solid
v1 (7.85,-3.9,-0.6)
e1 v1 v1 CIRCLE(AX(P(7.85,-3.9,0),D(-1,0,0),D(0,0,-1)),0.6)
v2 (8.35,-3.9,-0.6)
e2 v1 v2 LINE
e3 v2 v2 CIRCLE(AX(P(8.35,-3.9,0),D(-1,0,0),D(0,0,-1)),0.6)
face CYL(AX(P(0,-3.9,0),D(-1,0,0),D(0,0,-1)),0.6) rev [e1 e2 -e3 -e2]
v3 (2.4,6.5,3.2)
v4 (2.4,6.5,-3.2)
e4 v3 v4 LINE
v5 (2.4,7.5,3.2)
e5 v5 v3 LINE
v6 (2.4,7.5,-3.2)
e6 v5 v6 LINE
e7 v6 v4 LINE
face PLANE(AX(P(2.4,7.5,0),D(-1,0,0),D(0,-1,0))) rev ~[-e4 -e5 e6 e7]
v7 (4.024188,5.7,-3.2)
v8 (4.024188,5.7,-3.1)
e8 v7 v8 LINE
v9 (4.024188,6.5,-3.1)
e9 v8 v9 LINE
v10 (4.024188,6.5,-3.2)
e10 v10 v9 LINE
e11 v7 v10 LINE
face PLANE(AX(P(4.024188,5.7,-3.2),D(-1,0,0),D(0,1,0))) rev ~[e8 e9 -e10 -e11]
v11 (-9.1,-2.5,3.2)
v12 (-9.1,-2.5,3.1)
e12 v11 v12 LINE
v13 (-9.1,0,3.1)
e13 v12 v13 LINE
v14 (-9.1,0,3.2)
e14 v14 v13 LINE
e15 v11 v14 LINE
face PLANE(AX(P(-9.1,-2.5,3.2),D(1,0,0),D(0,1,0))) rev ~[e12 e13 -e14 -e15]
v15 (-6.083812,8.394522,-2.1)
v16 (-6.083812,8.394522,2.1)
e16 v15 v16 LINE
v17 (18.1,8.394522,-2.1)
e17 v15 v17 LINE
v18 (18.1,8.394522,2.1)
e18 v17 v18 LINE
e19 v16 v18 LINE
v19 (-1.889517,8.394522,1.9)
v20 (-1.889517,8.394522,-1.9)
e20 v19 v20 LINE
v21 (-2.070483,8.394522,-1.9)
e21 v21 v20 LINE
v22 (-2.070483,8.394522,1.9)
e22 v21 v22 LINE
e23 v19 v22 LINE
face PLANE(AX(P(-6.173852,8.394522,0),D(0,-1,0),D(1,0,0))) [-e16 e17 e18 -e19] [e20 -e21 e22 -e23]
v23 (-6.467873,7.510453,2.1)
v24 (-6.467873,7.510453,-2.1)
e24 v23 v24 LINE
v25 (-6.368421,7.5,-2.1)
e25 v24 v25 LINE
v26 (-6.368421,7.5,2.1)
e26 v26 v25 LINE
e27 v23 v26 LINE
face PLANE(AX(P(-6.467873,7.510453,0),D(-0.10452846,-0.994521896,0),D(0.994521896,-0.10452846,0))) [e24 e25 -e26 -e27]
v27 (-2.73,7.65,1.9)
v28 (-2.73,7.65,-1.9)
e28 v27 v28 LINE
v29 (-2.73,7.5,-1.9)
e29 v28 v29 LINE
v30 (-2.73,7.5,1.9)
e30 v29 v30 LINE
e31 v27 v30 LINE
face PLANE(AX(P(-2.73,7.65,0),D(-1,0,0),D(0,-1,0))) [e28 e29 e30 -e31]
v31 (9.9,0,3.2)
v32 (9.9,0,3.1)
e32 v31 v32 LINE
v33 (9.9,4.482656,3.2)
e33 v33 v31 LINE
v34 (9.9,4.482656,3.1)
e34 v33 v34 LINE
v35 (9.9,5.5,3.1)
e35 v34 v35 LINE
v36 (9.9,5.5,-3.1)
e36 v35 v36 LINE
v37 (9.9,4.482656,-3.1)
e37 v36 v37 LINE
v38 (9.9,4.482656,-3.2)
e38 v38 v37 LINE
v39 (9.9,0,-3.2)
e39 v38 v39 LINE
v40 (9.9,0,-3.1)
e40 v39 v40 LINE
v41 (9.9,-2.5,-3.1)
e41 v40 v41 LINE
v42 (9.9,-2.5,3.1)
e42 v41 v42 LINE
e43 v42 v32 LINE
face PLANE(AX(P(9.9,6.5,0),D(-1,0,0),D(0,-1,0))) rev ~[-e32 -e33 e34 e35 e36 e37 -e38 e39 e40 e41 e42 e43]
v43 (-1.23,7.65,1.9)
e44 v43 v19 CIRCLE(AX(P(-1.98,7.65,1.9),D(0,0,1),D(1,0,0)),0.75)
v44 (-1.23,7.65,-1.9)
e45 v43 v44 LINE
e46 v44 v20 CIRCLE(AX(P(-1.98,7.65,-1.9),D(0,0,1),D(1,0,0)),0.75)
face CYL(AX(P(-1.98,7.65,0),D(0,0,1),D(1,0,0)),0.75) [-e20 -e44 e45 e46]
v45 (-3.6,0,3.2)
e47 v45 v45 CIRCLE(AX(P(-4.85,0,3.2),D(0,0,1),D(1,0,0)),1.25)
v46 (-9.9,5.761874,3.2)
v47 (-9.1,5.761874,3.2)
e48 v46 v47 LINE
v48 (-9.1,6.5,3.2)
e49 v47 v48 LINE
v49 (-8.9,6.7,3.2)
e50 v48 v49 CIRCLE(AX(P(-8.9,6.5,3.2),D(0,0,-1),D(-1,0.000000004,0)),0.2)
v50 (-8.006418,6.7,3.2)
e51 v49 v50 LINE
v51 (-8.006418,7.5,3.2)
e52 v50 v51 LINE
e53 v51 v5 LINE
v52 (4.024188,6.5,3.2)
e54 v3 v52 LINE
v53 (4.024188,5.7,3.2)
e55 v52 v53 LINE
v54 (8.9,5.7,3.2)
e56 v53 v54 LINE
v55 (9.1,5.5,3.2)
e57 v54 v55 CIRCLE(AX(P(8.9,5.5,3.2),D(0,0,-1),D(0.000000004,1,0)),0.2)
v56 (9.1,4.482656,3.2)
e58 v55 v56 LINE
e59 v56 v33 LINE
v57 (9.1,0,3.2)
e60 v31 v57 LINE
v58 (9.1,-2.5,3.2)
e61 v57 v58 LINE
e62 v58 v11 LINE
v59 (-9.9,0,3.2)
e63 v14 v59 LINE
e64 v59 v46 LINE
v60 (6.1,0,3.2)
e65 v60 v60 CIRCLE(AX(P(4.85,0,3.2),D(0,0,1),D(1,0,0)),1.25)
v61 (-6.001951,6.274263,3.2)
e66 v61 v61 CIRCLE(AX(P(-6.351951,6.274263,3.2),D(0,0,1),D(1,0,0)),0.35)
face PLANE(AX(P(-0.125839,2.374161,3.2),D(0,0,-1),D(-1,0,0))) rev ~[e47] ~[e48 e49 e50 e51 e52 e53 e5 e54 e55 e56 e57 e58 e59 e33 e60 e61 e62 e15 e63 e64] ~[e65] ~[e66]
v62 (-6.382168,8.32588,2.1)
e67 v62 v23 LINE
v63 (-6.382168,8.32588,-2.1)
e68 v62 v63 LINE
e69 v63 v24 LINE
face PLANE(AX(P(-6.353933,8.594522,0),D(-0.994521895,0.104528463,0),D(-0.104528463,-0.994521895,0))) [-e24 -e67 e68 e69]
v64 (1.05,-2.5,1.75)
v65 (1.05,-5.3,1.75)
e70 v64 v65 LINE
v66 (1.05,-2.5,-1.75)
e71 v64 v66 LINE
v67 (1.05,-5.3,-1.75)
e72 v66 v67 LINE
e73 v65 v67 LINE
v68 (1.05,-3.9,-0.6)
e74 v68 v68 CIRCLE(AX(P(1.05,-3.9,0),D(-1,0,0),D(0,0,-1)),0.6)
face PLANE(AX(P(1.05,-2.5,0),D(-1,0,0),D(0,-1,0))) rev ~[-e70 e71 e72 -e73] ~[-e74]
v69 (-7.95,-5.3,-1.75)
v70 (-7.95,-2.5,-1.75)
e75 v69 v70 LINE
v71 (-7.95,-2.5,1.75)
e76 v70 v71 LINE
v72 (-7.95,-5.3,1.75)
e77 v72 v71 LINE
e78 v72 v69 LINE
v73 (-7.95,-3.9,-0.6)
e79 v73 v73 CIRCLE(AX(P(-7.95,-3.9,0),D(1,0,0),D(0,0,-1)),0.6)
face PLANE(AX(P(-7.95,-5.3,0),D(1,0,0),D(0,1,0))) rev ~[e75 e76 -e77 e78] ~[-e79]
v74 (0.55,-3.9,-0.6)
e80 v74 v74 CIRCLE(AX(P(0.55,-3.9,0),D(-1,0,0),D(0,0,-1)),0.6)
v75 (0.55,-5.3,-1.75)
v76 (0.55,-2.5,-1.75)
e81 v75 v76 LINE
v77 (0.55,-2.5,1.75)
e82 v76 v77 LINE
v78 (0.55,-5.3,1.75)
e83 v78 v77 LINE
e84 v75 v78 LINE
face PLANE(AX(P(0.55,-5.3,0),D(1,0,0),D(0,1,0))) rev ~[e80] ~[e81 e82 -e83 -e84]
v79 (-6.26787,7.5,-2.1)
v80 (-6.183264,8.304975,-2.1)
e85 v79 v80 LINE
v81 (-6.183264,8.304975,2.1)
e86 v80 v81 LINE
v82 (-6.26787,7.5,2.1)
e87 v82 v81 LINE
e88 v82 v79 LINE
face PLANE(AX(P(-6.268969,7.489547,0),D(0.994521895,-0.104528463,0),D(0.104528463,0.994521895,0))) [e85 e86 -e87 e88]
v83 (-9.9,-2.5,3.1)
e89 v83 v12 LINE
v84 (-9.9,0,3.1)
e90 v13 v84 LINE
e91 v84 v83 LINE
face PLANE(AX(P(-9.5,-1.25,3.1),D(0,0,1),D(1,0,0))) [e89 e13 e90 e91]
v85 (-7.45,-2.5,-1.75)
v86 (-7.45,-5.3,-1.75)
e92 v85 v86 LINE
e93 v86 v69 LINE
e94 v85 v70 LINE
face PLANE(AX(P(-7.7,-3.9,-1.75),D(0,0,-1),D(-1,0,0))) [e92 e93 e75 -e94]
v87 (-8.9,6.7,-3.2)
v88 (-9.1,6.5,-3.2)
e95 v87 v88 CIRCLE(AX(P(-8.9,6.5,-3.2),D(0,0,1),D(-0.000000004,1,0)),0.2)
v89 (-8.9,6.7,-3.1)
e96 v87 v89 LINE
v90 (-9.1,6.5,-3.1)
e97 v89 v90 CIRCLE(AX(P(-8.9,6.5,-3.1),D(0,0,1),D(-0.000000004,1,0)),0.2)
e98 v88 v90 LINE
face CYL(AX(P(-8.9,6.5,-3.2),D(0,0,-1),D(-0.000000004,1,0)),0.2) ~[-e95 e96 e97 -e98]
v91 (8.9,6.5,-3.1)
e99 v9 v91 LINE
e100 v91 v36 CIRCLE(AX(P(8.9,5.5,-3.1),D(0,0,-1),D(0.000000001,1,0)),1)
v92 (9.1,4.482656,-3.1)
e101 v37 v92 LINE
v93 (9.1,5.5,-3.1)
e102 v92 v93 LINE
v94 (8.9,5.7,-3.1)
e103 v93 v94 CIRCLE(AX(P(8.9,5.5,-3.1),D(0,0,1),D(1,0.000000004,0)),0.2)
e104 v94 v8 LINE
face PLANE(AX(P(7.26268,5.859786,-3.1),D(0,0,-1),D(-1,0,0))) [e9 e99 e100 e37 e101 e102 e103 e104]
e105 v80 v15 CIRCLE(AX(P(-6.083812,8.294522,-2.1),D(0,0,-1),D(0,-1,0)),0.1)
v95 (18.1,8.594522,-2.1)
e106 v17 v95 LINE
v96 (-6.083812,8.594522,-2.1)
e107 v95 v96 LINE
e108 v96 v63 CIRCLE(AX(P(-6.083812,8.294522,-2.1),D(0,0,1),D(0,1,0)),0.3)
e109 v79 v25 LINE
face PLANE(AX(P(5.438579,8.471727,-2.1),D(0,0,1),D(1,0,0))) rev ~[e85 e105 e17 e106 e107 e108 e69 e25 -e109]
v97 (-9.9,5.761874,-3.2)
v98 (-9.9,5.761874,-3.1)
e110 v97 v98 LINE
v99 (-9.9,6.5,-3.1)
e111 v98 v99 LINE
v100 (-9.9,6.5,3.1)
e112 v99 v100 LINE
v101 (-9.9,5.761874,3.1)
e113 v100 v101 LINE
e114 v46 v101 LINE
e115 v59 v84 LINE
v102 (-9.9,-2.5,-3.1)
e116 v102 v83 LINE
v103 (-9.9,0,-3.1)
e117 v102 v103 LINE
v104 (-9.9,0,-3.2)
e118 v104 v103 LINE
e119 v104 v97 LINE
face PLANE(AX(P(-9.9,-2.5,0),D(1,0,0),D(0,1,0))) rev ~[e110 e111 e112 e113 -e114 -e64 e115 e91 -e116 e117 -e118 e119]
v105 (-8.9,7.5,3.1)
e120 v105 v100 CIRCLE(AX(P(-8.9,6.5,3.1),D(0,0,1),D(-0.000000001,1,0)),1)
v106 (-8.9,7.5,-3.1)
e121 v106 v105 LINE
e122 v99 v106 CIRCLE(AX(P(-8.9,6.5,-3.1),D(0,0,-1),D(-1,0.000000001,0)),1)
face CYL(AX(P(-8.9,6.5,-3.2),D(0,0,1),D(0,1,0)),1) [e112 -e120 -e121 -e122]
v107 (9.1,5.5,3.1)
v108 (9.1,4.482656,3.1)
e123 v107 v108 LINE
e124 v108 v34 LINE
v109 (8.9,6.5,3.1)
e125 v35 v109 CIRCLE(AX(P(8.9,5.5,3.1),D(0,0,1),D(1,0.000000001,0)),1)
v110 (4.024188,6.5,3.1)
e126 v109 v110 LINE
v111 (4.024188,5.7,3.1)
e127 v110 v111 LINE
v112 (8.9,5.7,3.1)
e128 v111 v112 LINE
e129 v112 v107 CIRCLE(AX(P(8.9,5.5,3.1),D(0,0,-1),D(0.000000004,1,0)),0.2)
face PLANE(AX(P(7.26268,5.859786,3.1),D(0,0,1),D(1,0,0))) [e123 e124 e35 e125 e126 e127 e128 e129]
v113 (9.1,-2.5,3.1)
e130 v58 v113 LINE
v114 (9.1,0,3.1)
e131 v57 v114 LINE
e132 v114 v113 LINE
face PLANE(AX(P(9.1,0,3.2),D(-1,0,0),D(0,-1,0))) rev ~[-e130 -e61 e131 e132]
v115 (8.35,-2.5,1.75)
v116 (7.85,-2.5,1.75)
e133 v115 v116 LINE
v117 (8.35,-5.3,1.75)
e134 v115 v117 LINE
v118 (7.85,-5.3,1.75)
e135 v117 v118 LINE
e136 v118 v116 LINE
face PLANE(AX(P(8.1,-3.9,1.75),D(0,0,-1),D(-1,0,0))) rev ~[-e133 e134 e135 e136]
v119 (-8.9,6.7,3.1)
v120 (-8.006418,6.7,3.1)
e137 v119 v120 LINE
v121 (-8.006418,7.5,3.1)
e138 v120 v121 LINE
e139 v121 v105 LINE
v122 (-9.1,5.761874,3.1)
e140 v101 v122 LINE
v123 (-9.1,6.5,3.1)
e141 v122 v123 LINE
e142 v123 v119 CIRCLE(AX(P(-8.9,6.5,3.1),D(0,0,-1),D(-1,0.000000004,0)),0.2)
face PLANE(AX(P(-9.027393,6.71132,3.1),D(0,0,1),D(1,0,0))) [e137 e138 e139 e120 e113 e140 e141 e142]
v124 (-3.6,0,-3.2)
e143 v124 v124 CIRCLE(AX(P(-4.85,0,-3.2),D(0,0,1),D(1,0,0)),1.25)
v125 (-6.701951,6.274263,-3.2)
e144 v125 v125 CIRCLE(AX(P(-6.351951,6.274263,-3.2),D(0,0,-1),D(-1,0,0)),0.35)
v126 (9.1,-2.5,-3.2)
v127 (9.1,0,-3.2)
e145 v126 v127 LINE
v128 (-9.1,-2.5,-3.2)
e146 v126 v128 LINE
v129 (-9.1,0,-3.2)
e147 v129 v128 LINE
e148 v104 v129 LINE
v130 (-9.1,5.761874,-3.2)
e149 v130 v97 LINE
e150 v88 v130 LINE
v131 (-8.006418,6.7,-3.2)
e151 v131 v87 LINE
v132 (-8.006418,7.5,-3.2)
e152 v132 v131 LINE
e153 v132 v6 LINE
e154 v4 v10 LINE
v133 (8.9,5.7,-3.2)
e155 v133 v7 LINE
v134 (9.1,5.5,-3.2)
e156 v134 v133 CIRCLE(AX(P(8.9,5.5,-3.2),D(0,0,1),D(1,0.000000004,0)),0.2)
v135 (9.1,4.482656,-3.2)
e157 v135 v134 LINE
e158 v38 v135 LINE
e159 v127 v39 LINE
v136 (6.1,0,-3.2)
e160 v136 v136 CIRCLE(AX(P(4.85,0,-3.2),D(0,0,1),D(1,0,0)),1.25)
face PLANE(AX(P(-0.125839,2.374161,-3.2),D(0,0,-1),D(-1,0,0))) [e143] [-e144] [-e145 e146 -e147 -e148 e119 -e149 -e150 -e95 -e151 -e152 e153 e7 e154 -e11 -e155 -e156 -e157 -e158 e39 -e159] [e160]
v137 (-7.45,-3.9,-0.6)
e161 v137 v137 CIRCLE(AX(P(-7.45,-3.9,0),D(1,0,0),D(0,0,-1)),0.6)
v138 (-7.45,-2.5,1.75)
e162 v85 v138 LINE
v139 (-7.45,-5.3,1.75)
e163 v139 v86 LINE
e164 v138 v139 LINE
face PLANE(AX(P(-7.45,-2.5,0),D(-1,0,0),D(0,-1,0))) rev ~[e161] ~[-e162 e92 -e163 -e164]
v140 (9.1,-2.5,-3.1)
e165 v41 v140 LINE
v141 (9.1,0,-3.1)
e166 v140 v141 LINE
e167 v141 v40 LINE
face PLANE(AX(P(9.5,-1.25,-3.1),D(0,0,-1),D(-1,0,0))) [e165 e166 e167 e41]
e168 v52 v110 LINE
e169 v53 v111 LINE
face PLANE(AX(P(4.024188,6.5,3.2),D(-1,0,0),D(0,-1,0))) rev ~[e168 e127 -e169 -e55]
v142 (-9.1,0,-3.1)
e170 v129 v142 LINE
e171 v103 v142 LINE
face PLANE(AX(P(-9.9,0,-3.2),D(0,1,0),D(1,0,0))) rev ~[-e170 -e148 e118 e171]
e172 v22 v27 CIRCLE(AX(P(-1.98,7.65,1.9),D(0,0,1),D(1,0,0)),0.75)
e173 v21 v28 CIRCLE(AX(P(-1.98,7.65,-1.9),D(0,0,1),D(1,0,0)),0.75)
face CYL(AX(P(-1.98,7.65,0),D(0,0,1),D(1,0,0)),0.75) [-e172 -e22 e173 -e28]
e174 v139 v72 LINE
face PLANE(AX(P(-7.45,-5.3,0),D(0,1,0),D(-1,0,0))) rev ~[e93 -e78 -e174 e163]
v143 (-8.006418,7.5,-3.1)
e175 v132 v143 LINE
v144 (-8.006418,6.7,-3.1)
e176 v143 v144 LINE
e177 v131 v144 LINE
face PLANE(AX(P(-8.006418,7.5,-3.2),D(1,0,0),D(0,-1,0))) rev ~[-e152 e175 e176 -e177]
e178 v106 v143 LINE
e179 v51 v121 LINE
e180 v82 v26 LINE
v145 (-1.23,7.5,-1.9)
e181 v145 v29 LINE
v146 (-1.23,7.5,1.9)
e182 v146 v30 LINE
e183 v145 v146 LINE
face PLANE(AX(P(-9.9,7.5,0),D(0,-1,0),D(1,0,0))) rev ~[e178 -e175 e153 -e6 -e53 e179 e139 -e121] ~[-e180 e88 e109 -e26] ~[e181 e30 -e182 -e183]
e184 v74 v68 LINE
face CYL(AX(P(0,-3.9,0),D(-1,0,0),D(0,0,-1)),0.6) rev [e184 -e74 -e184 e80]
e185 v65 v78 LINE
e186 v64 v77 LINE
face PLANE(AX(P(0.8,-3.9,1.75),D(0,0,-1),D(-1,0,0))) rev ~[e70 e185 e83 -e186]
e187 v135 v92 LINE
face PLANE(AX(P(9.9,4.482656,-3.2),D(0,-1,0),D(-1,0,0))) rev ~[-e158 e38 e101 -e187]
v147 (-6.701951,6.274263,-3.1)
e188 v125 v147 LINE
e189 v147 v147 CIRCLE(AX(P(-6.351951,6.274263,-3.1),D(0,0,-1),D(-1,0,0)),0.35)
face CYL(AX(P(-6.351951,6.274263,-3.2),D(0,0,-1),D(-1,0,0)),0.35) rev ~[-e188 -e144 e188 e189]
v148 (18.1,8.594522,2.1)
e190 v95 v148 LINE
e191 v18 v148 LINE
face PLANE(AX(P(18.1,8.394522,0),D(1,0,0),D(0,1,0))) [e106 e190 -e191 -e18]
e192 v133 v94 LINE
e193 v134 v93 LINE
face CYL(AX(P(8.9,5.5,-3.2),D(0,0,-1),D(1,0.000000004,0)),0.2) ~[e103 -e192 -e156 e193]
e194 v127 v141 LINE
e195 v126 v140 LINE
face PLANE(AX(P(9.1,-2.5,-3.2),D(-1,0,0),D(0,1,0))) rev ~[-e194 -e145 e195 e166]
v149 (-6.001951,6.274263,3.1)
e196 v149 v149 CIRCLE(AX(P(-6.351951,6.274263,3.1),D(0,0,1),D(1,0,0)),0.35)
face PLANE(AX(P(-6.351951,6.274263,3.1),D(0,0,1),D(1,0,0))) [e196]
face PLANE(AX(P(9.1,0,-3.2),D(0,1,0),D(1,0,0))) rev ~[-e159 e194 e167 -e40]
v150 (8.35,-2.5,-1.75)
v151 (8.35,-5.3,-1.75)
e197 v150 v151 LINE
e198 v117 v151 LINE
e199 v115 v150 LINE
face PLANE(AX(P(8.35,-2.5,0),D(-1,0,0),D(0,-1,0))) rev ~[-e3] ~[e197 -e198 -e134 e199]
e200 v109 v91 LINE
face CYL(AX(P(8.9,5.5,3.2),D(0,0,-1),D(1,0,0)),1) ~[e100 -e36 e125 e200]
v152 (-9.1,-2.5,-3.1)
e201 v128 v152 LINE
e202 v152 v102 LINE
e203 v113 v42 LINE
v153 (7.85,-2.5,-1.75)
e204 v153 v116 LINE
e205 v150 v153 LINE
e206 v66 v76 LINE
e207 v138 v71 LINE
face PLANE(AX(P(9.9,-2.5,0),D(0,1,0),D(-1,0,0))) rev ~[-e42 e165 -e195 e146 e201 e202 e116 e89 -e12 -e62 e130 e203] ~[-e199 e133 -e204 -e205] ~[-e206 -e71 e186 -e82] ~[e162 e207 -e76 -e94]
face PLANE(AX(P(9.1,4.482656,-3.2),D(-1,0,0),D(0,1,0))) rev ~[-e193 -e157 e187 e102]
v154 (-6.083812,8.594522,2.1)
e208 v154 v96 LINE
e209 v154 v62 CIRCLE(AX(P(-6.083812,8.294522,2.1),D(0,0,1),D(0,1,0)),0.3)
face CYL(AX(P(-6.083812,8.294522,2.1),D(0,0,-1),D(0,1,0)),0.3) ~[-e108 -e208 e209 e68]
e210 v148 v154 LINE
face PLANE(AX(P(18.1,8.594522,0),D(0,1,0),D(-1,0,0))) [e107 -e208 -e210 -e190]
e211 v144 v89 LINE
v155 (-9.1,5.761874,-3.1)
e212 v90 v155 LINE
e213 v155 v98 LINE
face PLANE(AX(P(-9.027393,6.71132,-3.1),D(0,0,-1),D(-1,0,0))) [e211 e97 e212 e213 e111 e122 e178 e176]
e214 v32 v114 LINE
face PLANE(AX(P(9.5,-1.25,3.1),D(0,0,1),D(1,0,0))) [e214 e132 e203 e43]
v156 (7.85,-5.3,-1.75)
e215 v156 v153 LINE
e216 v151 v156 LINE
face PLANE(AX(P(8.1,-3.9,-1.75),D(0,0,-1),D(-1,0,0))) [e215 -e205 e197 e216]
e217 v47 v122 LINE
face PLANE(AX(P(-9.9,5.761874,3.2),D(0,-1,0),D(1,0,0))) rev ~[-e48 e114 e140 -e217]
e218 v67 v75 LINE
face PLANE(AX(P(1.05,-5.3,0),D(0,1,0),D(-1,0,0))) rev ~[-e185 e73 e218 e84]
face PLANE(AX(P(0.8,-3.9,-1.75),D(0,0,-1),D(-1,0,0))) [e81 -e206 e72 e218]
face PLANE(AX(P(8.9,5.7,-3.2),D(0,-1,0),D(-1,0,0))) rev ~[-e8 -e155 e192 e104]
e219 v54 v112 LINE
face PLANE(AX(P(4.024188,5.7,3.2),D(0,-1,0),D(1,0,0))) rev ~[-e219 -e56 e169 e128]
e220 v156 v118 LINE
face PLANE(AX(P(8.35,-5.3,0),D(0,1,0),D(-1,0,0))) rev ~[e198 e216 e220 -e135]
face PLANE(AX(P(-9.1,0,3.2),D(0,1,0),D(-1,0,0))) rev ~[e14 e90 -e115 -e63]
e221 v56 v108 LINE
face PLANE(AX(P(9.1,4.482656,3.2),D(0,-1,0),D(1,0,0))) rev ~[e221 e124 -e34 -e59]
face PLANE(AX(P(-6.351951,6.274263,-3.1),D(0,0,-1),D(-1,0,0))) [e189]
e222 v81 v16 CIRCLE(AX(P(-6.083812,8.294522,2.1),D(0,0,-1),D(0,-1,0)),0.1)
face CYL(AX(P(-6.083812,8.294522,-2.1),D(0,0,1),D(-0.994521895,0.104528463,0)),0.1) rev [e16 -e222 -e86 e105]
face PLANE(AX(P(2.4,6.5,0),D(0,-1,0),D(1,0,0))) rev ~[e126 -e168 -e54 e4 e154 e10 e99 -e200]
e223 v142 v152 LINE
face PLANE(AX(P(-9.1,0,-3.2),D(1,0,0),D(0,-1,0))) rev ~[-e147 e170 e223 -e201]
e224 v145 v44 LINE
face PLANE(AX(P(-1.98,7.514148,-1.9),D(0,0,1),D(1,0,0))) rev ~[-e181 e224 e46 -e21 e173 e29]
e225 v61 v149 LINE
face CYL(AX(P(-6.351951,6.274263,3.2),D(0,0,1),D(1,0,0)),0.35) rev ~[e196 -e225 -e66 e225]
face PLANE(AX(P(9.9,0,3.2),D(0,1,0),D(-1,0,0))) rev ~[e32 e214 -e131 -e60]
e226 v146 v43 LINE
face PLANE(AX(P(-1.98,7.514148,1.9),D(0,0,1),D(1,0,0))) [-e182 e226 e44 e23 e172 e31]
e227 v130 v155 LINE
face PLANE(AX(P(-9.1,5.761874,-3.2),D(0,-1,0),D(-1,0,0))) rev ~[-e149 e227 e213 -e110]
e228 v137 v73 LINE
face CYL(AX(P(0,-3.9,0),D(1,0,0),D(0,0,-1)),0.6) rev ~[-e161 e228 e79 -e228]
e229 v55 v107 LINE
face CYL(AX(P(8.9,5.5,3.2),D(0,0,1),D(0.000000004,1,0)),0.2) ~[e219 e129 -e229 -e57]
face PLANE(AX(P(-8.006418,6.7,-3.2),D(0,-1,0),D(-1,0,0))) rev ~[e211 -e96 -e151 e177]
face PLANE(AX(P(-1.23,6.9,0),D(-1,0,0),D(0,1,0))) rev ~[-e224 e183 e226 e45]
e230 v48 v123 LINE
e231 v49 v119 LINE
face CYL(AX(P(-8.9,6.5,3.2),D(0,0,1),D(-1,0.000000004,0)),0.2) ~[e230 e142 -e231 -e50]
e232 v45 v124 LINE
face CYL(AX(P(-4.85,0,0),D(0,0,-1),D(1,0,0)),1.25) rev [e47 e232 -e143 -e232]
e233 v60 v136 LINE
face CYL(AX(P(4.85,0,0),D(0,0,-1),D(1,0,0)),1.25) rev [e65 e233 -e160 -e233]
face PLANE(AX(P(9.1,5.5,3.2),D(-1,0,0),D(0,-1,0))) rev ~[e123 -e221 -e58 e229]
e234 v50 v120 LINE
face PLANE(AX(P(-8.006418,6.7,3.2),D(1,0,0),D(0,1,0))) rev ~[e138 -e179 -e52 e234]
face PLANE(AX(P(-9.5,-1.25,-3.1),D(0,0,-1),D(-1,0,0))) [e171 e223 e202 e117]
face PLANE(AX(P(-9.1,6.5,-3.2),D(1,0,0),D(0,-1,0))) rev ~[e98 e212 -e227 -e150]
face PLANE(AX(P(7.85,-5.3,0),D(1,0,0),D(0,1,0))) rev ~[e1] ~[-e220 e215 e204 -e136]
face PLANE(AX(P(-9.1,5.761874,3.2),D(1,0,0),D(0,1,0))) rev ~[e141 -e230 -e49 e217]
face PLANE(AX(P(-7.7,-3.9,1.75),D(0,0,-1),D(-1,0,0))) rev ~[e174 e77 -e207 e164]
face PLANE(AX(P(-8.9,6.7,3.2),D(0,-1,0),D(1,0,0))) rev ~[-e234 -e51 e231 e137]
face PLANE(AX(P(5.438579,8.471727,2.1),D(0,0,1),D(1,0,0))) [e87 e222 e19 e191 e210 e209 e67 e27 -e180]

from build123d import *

# Parameters (mm, degrees)
SKETCH1_R                = 1.25
EXTRUDE1_DEPTH           = 3.2
EXTRUDE1_DEPTH_BACK      = 3.2
FILLET1_R                = 1
CUT_EXTRUDE1_DEPTH       = 0.1
CUT_EXTRUDE2_DEPTH       = 0.1
EXTRUDE3_DEPTH           = 1.75
EXTRUDE3_DEPTH_BACK      = 1.75
SKETCH6_R                = 0.6
CUT_EXTRUDE3_DEPTH       = 10.9
CUT_EXTRUDE3_DEPTH_BACK  = 10.9
SKETCH8_R                = 0.35
CUT_EXTRUDE4_DEPTH       = 0.1
SKETCH9_R                = 0.35
CUT_EXTRUDE5_DEPTH       = 0.1
EXTRUDE4_DEPTH           = 1.9
EXTRUDE4_DEPTH_BACK      = 1.9
EXTRUDE_THIN3_DEPTH      = 2.1
EXTRUDE_THIN3_DEPTH_BACK = 2.1
FILLET6_R                = 0.1
FILLET7_R                = 0.3


with BuildPart() as part:
    # Sketch1 → Extrude1 (new body, two sides)
    with BuildSketch(Plane.XY) as extrude1_sk:
        Polygon((-9.9, 7.5), (2.4, 7.5), (2.4, 6.5), (9.9, 6.5), (9.9, -2.5), (-9.9, -2.5), align=None)
        with Locations((-4.85, 0)):
            Circle(SKETCH1_R, mode=Mode.SUBTRACT)
        with Locations((4.85, 0)):
            Circle(SKETCH1_R, mode=Mode.SUBTRACT)
    extrude(amount=EXTRUDE1_DEPTH)
    extrude(extrude1_sk.sketch, amount=-EXTRUDE1_DEPTH_BACK)

    # Fillet1
    fillet1_edges = [part.edges().sort_by_distance(p)[0] for p in [
        (-9.9, 7.5, 0),
        (9.9, 6.5, 0),
    ]]
    fillet(fillet1_edges, radius=FILLET1_R)

    # Sketch2 → Cut-Extrude1 (cut)
    with BuildSketch(Plane.XY.offset(3.2)):
        with BuildLine():
            Line((8.9, 6.5), (4.024187691, 6.5))
            Line((4.024187691, 6.5), (4.024187691, 5.7))
            Line((4.024187691, 5.7), (8.9, 5.7))
            ThreePointArc((8.9, 5.7), (9.041421356, 5.641421356), (9.1, 5.5))
            Line((9.1, 5.5), (9.1, 4.482655552))
            Line((9.1, 4.482655552), (9.9, 4.482655552))
            Line((9.9, 4.482655552), (9.9, 5.5))
            ThreePointArc((9.9, 5.5), (9.607106781, 6.207106781), (8.9, 6.5))
        make_face()
        Polygon((9.9, -2.5), (9.9, 0), (9.1, 0), (9.1, -1.7), (9.1, -2.5), align=None)
        Polygon((-9.9, -2.5), (-9.1, -2.5), (-9.1, -1.7), (-9.1, 0), (-9.9, 0), align=None)
        with BuildLine():
            Line((-8.006418485, 7.5), (-8.9, 7.5))
            ThreePointArc((-8.9, 7.5), (-9.607106781, 7.207106781), (-9.9, 6.5))
            Line((-9.9, 6.5), (-9.9, 5.761874198))
            Line((-9.9, 5.761874198), (-9.1, 5.761874198))
            Line((-9.1, 5.761874198), (-9.1, 6.5))
            ThreePointArc((-9.1, 6.5), (-9.041421356, 6.641421356), (-8.9, 6.7))
            Line((-8.9, 6.7), (-8.006418485, 6.7))
            Line((-8.006418485, 6.7), (-8.006418485, 7.5))
        make_face()
    extrude(amount=-CUT_EXTRUDE1_DEPTH, mode=Mode.SUBTRACT)

    # Sketch3 → Cut-Extrude2 (cut)
    with BuildSketch(Plane(origin=(0, 0, -3.2), x_dir=(-1, 0, 0), z_dir=(0, 0, -1))):
        with BuildLine():
            Line((8.9, 7.5), (8.006418485, 7.5))
            Line((8.006418485, 7.5), (8.006418485, 6.7))
            Line((8.006418485, 6.7), (8.9, 6.7))
            ThreePointArc((8.9, 6.7), (9.041421356, 6.641421356), (9.1, 6.5))
            Line((9.1, 6.5), (9.1, 5.761874198))
            Line((9.1, 5.761874198), (9.9, 5.761874198))
            Line((9.9, 5.761874198), (9.9, 6.5))
            ThreePointArc((9.9, 6.5), (9.607106781, 7.207106781), (8.9, 7.5))
        make_face()
        Polygon((9.1, -1.7), (9.1, -2.5), (9.9, -2.5), (9.9, 0), (9.1, 0), align=None)
        Polygon((-9.9, 0), (-9.9, -2.5), (-9.1, -2.5), (-9.1, -1.7), (-9.1, 0), align=None)
        with BuildLine():
            Line((-4.024187691, 5.7), (-4.024187691, 6.5))
            Line((-4.024187691, 6.5), (-8.9, 6.5))
            ThreePointArc((-8.9, 6.5), (-9.607106781, 6.207106781), (-9.9, 5.5))
            Line((-9.9, 5.5), (-9.9, 4.482655552))
            Line((-9.9, 4.482655552), (-9.1, 4.482655552))
            Line((-9.1, 4.482655552), (-9.1, 5.5))
            ThreePointArc((-9.1, 5.5), (-9.041421356, 5.641421356), (-8.9, 5.7))
            Line((-8.9, 5.7), (-4.024187691, 5.7))
        make_face()
    extrude(amount=-CUT_EXTRUDE2_DEPTH, mode=Mode.SUBTRACT)

    # Sketch5 → Extrude3 (add, two sides)
    with BuildSketch(Plane.XY) as extrude3_sk:
        Polygon((-7.95, -2.5), (-7.7, -2.5), (-7.45, -2.5), (-7.45, -5.3), (-7.95, -5.3), align=None)
        Polygon((8.1, -2.5), (8.35, -2.5), (8.35, -5.3), (7.85, -5.3), (7.85, -2.5), align=None)
        Polygon((0.55, -2.5), (0.8, -2.5), (1.05, -2.5), (1.05, -5.3), (0.55, -5.3), align=None)
    extrude(amount=EXTRUDE3_DEPTH)
    extrude(extrude3_sk.sketch, amount=-EXTRUDE3_DEPTH_BACK)

    # Sketch6 → Cut-Extrude3 (cut, two sides)
    with BuildSketch(Plane(origin=(0, 0, 0), x_dir=(0, 0, -1), z_dir=(1, 0, 0))) as cut_extrude3_sk:
        with Locations((0, -3.9)):
            Circle(SKETCH6_R)
    extrude(amount=CUT_EXTRUDE3_DEPTH, mode=Mode.SUBTRACT)
    extrude(cut_extrude3_sk.sketch, amount=-CUT_EXTRUDE3_DEPTH_BACK, mode=Mode.SUBTRACT)

    # Sketch8 → Cut-Extrude4 (cut)
    with BuildSketch(Plane.XY.offset(3.2)):
        with Locations((-6.351950972, 6.27426345)):
            Circle(SKETCH8_R)
    extrude(amount=-CUT_EXTRUDE4_DEPTH, mode=Mode.SUBTRACT)

    # Sketch9 → Cut-Extrude5 (cut)
    with BuildSketch(Plane(origin=(0, 0, -3.2), x_dir=(-1, 0, 0), z_dir=(0, 0, -1))):
        with Locations((6.351950972, 6.27426345)):
            Circle(SKETCH9_R)
    extrude(amount=-CUT_EXTRUDE5_DEPTH, mode=Mode.SUBTRACT)

    # Sketch11 → Extrude4 (add, two sides)
    with BuildSketch(Plane.XY) as extrude4_sk:
        with BuildLine():
            Line((-2.73, 7.65), (-2.73, 6.9))
            Line((-2.73, 6.9), (-1.23, 6.9))
            Line((-1.23, 6.9), (-1.23, 7.65))
            ThreePointArc((-1.23, 7.65), (-1.98, 8.4), (-2.73, 7.65))
        make_face()
    extrude(amount=EXTRUDE4_DEPTH)
    extrude(extrude4_sk.sketch, amount=-EXTRUDE4_DEPTH_BACK)

    # Sketch12 → Extrude-Thin3 (add, two sides)
    with BuildSketch(Plane.XY) as extrude_thin3_sk:
        Polygon((-6.268968863, 7.489547154), (-6.173852185, 8.394521895), (18.1, 8.394521895), (18.1, 8.594521895), (-6.353932994, 8.594521895), (-6.467873242, 7.510452846), align=None)
    extrude(amount=EXTRUDE_THIN3_DEPTH)
    extrude(extrude_thin3_sk.sketch, amount=-EXTRUDE_THIN3_DEPTH_BACK)

    # Fillet6
    fillet6_edges = [part.edges().sort_by_distance(p)[0] for p in [
        (-6.173852185, 8.394521895, 0),
    ]]
    fillet(fillet6_edges, radius=FILLET6_R)

    # Fillet7
    fillet7_edges = [part.edges().sort_by_distance(p)[0] for p in [
        (-6.353932994, 8.594521895, 0),
    ]]
    fillet(fillet7_edges, radius=FILLET7_R)


solid = part.part
